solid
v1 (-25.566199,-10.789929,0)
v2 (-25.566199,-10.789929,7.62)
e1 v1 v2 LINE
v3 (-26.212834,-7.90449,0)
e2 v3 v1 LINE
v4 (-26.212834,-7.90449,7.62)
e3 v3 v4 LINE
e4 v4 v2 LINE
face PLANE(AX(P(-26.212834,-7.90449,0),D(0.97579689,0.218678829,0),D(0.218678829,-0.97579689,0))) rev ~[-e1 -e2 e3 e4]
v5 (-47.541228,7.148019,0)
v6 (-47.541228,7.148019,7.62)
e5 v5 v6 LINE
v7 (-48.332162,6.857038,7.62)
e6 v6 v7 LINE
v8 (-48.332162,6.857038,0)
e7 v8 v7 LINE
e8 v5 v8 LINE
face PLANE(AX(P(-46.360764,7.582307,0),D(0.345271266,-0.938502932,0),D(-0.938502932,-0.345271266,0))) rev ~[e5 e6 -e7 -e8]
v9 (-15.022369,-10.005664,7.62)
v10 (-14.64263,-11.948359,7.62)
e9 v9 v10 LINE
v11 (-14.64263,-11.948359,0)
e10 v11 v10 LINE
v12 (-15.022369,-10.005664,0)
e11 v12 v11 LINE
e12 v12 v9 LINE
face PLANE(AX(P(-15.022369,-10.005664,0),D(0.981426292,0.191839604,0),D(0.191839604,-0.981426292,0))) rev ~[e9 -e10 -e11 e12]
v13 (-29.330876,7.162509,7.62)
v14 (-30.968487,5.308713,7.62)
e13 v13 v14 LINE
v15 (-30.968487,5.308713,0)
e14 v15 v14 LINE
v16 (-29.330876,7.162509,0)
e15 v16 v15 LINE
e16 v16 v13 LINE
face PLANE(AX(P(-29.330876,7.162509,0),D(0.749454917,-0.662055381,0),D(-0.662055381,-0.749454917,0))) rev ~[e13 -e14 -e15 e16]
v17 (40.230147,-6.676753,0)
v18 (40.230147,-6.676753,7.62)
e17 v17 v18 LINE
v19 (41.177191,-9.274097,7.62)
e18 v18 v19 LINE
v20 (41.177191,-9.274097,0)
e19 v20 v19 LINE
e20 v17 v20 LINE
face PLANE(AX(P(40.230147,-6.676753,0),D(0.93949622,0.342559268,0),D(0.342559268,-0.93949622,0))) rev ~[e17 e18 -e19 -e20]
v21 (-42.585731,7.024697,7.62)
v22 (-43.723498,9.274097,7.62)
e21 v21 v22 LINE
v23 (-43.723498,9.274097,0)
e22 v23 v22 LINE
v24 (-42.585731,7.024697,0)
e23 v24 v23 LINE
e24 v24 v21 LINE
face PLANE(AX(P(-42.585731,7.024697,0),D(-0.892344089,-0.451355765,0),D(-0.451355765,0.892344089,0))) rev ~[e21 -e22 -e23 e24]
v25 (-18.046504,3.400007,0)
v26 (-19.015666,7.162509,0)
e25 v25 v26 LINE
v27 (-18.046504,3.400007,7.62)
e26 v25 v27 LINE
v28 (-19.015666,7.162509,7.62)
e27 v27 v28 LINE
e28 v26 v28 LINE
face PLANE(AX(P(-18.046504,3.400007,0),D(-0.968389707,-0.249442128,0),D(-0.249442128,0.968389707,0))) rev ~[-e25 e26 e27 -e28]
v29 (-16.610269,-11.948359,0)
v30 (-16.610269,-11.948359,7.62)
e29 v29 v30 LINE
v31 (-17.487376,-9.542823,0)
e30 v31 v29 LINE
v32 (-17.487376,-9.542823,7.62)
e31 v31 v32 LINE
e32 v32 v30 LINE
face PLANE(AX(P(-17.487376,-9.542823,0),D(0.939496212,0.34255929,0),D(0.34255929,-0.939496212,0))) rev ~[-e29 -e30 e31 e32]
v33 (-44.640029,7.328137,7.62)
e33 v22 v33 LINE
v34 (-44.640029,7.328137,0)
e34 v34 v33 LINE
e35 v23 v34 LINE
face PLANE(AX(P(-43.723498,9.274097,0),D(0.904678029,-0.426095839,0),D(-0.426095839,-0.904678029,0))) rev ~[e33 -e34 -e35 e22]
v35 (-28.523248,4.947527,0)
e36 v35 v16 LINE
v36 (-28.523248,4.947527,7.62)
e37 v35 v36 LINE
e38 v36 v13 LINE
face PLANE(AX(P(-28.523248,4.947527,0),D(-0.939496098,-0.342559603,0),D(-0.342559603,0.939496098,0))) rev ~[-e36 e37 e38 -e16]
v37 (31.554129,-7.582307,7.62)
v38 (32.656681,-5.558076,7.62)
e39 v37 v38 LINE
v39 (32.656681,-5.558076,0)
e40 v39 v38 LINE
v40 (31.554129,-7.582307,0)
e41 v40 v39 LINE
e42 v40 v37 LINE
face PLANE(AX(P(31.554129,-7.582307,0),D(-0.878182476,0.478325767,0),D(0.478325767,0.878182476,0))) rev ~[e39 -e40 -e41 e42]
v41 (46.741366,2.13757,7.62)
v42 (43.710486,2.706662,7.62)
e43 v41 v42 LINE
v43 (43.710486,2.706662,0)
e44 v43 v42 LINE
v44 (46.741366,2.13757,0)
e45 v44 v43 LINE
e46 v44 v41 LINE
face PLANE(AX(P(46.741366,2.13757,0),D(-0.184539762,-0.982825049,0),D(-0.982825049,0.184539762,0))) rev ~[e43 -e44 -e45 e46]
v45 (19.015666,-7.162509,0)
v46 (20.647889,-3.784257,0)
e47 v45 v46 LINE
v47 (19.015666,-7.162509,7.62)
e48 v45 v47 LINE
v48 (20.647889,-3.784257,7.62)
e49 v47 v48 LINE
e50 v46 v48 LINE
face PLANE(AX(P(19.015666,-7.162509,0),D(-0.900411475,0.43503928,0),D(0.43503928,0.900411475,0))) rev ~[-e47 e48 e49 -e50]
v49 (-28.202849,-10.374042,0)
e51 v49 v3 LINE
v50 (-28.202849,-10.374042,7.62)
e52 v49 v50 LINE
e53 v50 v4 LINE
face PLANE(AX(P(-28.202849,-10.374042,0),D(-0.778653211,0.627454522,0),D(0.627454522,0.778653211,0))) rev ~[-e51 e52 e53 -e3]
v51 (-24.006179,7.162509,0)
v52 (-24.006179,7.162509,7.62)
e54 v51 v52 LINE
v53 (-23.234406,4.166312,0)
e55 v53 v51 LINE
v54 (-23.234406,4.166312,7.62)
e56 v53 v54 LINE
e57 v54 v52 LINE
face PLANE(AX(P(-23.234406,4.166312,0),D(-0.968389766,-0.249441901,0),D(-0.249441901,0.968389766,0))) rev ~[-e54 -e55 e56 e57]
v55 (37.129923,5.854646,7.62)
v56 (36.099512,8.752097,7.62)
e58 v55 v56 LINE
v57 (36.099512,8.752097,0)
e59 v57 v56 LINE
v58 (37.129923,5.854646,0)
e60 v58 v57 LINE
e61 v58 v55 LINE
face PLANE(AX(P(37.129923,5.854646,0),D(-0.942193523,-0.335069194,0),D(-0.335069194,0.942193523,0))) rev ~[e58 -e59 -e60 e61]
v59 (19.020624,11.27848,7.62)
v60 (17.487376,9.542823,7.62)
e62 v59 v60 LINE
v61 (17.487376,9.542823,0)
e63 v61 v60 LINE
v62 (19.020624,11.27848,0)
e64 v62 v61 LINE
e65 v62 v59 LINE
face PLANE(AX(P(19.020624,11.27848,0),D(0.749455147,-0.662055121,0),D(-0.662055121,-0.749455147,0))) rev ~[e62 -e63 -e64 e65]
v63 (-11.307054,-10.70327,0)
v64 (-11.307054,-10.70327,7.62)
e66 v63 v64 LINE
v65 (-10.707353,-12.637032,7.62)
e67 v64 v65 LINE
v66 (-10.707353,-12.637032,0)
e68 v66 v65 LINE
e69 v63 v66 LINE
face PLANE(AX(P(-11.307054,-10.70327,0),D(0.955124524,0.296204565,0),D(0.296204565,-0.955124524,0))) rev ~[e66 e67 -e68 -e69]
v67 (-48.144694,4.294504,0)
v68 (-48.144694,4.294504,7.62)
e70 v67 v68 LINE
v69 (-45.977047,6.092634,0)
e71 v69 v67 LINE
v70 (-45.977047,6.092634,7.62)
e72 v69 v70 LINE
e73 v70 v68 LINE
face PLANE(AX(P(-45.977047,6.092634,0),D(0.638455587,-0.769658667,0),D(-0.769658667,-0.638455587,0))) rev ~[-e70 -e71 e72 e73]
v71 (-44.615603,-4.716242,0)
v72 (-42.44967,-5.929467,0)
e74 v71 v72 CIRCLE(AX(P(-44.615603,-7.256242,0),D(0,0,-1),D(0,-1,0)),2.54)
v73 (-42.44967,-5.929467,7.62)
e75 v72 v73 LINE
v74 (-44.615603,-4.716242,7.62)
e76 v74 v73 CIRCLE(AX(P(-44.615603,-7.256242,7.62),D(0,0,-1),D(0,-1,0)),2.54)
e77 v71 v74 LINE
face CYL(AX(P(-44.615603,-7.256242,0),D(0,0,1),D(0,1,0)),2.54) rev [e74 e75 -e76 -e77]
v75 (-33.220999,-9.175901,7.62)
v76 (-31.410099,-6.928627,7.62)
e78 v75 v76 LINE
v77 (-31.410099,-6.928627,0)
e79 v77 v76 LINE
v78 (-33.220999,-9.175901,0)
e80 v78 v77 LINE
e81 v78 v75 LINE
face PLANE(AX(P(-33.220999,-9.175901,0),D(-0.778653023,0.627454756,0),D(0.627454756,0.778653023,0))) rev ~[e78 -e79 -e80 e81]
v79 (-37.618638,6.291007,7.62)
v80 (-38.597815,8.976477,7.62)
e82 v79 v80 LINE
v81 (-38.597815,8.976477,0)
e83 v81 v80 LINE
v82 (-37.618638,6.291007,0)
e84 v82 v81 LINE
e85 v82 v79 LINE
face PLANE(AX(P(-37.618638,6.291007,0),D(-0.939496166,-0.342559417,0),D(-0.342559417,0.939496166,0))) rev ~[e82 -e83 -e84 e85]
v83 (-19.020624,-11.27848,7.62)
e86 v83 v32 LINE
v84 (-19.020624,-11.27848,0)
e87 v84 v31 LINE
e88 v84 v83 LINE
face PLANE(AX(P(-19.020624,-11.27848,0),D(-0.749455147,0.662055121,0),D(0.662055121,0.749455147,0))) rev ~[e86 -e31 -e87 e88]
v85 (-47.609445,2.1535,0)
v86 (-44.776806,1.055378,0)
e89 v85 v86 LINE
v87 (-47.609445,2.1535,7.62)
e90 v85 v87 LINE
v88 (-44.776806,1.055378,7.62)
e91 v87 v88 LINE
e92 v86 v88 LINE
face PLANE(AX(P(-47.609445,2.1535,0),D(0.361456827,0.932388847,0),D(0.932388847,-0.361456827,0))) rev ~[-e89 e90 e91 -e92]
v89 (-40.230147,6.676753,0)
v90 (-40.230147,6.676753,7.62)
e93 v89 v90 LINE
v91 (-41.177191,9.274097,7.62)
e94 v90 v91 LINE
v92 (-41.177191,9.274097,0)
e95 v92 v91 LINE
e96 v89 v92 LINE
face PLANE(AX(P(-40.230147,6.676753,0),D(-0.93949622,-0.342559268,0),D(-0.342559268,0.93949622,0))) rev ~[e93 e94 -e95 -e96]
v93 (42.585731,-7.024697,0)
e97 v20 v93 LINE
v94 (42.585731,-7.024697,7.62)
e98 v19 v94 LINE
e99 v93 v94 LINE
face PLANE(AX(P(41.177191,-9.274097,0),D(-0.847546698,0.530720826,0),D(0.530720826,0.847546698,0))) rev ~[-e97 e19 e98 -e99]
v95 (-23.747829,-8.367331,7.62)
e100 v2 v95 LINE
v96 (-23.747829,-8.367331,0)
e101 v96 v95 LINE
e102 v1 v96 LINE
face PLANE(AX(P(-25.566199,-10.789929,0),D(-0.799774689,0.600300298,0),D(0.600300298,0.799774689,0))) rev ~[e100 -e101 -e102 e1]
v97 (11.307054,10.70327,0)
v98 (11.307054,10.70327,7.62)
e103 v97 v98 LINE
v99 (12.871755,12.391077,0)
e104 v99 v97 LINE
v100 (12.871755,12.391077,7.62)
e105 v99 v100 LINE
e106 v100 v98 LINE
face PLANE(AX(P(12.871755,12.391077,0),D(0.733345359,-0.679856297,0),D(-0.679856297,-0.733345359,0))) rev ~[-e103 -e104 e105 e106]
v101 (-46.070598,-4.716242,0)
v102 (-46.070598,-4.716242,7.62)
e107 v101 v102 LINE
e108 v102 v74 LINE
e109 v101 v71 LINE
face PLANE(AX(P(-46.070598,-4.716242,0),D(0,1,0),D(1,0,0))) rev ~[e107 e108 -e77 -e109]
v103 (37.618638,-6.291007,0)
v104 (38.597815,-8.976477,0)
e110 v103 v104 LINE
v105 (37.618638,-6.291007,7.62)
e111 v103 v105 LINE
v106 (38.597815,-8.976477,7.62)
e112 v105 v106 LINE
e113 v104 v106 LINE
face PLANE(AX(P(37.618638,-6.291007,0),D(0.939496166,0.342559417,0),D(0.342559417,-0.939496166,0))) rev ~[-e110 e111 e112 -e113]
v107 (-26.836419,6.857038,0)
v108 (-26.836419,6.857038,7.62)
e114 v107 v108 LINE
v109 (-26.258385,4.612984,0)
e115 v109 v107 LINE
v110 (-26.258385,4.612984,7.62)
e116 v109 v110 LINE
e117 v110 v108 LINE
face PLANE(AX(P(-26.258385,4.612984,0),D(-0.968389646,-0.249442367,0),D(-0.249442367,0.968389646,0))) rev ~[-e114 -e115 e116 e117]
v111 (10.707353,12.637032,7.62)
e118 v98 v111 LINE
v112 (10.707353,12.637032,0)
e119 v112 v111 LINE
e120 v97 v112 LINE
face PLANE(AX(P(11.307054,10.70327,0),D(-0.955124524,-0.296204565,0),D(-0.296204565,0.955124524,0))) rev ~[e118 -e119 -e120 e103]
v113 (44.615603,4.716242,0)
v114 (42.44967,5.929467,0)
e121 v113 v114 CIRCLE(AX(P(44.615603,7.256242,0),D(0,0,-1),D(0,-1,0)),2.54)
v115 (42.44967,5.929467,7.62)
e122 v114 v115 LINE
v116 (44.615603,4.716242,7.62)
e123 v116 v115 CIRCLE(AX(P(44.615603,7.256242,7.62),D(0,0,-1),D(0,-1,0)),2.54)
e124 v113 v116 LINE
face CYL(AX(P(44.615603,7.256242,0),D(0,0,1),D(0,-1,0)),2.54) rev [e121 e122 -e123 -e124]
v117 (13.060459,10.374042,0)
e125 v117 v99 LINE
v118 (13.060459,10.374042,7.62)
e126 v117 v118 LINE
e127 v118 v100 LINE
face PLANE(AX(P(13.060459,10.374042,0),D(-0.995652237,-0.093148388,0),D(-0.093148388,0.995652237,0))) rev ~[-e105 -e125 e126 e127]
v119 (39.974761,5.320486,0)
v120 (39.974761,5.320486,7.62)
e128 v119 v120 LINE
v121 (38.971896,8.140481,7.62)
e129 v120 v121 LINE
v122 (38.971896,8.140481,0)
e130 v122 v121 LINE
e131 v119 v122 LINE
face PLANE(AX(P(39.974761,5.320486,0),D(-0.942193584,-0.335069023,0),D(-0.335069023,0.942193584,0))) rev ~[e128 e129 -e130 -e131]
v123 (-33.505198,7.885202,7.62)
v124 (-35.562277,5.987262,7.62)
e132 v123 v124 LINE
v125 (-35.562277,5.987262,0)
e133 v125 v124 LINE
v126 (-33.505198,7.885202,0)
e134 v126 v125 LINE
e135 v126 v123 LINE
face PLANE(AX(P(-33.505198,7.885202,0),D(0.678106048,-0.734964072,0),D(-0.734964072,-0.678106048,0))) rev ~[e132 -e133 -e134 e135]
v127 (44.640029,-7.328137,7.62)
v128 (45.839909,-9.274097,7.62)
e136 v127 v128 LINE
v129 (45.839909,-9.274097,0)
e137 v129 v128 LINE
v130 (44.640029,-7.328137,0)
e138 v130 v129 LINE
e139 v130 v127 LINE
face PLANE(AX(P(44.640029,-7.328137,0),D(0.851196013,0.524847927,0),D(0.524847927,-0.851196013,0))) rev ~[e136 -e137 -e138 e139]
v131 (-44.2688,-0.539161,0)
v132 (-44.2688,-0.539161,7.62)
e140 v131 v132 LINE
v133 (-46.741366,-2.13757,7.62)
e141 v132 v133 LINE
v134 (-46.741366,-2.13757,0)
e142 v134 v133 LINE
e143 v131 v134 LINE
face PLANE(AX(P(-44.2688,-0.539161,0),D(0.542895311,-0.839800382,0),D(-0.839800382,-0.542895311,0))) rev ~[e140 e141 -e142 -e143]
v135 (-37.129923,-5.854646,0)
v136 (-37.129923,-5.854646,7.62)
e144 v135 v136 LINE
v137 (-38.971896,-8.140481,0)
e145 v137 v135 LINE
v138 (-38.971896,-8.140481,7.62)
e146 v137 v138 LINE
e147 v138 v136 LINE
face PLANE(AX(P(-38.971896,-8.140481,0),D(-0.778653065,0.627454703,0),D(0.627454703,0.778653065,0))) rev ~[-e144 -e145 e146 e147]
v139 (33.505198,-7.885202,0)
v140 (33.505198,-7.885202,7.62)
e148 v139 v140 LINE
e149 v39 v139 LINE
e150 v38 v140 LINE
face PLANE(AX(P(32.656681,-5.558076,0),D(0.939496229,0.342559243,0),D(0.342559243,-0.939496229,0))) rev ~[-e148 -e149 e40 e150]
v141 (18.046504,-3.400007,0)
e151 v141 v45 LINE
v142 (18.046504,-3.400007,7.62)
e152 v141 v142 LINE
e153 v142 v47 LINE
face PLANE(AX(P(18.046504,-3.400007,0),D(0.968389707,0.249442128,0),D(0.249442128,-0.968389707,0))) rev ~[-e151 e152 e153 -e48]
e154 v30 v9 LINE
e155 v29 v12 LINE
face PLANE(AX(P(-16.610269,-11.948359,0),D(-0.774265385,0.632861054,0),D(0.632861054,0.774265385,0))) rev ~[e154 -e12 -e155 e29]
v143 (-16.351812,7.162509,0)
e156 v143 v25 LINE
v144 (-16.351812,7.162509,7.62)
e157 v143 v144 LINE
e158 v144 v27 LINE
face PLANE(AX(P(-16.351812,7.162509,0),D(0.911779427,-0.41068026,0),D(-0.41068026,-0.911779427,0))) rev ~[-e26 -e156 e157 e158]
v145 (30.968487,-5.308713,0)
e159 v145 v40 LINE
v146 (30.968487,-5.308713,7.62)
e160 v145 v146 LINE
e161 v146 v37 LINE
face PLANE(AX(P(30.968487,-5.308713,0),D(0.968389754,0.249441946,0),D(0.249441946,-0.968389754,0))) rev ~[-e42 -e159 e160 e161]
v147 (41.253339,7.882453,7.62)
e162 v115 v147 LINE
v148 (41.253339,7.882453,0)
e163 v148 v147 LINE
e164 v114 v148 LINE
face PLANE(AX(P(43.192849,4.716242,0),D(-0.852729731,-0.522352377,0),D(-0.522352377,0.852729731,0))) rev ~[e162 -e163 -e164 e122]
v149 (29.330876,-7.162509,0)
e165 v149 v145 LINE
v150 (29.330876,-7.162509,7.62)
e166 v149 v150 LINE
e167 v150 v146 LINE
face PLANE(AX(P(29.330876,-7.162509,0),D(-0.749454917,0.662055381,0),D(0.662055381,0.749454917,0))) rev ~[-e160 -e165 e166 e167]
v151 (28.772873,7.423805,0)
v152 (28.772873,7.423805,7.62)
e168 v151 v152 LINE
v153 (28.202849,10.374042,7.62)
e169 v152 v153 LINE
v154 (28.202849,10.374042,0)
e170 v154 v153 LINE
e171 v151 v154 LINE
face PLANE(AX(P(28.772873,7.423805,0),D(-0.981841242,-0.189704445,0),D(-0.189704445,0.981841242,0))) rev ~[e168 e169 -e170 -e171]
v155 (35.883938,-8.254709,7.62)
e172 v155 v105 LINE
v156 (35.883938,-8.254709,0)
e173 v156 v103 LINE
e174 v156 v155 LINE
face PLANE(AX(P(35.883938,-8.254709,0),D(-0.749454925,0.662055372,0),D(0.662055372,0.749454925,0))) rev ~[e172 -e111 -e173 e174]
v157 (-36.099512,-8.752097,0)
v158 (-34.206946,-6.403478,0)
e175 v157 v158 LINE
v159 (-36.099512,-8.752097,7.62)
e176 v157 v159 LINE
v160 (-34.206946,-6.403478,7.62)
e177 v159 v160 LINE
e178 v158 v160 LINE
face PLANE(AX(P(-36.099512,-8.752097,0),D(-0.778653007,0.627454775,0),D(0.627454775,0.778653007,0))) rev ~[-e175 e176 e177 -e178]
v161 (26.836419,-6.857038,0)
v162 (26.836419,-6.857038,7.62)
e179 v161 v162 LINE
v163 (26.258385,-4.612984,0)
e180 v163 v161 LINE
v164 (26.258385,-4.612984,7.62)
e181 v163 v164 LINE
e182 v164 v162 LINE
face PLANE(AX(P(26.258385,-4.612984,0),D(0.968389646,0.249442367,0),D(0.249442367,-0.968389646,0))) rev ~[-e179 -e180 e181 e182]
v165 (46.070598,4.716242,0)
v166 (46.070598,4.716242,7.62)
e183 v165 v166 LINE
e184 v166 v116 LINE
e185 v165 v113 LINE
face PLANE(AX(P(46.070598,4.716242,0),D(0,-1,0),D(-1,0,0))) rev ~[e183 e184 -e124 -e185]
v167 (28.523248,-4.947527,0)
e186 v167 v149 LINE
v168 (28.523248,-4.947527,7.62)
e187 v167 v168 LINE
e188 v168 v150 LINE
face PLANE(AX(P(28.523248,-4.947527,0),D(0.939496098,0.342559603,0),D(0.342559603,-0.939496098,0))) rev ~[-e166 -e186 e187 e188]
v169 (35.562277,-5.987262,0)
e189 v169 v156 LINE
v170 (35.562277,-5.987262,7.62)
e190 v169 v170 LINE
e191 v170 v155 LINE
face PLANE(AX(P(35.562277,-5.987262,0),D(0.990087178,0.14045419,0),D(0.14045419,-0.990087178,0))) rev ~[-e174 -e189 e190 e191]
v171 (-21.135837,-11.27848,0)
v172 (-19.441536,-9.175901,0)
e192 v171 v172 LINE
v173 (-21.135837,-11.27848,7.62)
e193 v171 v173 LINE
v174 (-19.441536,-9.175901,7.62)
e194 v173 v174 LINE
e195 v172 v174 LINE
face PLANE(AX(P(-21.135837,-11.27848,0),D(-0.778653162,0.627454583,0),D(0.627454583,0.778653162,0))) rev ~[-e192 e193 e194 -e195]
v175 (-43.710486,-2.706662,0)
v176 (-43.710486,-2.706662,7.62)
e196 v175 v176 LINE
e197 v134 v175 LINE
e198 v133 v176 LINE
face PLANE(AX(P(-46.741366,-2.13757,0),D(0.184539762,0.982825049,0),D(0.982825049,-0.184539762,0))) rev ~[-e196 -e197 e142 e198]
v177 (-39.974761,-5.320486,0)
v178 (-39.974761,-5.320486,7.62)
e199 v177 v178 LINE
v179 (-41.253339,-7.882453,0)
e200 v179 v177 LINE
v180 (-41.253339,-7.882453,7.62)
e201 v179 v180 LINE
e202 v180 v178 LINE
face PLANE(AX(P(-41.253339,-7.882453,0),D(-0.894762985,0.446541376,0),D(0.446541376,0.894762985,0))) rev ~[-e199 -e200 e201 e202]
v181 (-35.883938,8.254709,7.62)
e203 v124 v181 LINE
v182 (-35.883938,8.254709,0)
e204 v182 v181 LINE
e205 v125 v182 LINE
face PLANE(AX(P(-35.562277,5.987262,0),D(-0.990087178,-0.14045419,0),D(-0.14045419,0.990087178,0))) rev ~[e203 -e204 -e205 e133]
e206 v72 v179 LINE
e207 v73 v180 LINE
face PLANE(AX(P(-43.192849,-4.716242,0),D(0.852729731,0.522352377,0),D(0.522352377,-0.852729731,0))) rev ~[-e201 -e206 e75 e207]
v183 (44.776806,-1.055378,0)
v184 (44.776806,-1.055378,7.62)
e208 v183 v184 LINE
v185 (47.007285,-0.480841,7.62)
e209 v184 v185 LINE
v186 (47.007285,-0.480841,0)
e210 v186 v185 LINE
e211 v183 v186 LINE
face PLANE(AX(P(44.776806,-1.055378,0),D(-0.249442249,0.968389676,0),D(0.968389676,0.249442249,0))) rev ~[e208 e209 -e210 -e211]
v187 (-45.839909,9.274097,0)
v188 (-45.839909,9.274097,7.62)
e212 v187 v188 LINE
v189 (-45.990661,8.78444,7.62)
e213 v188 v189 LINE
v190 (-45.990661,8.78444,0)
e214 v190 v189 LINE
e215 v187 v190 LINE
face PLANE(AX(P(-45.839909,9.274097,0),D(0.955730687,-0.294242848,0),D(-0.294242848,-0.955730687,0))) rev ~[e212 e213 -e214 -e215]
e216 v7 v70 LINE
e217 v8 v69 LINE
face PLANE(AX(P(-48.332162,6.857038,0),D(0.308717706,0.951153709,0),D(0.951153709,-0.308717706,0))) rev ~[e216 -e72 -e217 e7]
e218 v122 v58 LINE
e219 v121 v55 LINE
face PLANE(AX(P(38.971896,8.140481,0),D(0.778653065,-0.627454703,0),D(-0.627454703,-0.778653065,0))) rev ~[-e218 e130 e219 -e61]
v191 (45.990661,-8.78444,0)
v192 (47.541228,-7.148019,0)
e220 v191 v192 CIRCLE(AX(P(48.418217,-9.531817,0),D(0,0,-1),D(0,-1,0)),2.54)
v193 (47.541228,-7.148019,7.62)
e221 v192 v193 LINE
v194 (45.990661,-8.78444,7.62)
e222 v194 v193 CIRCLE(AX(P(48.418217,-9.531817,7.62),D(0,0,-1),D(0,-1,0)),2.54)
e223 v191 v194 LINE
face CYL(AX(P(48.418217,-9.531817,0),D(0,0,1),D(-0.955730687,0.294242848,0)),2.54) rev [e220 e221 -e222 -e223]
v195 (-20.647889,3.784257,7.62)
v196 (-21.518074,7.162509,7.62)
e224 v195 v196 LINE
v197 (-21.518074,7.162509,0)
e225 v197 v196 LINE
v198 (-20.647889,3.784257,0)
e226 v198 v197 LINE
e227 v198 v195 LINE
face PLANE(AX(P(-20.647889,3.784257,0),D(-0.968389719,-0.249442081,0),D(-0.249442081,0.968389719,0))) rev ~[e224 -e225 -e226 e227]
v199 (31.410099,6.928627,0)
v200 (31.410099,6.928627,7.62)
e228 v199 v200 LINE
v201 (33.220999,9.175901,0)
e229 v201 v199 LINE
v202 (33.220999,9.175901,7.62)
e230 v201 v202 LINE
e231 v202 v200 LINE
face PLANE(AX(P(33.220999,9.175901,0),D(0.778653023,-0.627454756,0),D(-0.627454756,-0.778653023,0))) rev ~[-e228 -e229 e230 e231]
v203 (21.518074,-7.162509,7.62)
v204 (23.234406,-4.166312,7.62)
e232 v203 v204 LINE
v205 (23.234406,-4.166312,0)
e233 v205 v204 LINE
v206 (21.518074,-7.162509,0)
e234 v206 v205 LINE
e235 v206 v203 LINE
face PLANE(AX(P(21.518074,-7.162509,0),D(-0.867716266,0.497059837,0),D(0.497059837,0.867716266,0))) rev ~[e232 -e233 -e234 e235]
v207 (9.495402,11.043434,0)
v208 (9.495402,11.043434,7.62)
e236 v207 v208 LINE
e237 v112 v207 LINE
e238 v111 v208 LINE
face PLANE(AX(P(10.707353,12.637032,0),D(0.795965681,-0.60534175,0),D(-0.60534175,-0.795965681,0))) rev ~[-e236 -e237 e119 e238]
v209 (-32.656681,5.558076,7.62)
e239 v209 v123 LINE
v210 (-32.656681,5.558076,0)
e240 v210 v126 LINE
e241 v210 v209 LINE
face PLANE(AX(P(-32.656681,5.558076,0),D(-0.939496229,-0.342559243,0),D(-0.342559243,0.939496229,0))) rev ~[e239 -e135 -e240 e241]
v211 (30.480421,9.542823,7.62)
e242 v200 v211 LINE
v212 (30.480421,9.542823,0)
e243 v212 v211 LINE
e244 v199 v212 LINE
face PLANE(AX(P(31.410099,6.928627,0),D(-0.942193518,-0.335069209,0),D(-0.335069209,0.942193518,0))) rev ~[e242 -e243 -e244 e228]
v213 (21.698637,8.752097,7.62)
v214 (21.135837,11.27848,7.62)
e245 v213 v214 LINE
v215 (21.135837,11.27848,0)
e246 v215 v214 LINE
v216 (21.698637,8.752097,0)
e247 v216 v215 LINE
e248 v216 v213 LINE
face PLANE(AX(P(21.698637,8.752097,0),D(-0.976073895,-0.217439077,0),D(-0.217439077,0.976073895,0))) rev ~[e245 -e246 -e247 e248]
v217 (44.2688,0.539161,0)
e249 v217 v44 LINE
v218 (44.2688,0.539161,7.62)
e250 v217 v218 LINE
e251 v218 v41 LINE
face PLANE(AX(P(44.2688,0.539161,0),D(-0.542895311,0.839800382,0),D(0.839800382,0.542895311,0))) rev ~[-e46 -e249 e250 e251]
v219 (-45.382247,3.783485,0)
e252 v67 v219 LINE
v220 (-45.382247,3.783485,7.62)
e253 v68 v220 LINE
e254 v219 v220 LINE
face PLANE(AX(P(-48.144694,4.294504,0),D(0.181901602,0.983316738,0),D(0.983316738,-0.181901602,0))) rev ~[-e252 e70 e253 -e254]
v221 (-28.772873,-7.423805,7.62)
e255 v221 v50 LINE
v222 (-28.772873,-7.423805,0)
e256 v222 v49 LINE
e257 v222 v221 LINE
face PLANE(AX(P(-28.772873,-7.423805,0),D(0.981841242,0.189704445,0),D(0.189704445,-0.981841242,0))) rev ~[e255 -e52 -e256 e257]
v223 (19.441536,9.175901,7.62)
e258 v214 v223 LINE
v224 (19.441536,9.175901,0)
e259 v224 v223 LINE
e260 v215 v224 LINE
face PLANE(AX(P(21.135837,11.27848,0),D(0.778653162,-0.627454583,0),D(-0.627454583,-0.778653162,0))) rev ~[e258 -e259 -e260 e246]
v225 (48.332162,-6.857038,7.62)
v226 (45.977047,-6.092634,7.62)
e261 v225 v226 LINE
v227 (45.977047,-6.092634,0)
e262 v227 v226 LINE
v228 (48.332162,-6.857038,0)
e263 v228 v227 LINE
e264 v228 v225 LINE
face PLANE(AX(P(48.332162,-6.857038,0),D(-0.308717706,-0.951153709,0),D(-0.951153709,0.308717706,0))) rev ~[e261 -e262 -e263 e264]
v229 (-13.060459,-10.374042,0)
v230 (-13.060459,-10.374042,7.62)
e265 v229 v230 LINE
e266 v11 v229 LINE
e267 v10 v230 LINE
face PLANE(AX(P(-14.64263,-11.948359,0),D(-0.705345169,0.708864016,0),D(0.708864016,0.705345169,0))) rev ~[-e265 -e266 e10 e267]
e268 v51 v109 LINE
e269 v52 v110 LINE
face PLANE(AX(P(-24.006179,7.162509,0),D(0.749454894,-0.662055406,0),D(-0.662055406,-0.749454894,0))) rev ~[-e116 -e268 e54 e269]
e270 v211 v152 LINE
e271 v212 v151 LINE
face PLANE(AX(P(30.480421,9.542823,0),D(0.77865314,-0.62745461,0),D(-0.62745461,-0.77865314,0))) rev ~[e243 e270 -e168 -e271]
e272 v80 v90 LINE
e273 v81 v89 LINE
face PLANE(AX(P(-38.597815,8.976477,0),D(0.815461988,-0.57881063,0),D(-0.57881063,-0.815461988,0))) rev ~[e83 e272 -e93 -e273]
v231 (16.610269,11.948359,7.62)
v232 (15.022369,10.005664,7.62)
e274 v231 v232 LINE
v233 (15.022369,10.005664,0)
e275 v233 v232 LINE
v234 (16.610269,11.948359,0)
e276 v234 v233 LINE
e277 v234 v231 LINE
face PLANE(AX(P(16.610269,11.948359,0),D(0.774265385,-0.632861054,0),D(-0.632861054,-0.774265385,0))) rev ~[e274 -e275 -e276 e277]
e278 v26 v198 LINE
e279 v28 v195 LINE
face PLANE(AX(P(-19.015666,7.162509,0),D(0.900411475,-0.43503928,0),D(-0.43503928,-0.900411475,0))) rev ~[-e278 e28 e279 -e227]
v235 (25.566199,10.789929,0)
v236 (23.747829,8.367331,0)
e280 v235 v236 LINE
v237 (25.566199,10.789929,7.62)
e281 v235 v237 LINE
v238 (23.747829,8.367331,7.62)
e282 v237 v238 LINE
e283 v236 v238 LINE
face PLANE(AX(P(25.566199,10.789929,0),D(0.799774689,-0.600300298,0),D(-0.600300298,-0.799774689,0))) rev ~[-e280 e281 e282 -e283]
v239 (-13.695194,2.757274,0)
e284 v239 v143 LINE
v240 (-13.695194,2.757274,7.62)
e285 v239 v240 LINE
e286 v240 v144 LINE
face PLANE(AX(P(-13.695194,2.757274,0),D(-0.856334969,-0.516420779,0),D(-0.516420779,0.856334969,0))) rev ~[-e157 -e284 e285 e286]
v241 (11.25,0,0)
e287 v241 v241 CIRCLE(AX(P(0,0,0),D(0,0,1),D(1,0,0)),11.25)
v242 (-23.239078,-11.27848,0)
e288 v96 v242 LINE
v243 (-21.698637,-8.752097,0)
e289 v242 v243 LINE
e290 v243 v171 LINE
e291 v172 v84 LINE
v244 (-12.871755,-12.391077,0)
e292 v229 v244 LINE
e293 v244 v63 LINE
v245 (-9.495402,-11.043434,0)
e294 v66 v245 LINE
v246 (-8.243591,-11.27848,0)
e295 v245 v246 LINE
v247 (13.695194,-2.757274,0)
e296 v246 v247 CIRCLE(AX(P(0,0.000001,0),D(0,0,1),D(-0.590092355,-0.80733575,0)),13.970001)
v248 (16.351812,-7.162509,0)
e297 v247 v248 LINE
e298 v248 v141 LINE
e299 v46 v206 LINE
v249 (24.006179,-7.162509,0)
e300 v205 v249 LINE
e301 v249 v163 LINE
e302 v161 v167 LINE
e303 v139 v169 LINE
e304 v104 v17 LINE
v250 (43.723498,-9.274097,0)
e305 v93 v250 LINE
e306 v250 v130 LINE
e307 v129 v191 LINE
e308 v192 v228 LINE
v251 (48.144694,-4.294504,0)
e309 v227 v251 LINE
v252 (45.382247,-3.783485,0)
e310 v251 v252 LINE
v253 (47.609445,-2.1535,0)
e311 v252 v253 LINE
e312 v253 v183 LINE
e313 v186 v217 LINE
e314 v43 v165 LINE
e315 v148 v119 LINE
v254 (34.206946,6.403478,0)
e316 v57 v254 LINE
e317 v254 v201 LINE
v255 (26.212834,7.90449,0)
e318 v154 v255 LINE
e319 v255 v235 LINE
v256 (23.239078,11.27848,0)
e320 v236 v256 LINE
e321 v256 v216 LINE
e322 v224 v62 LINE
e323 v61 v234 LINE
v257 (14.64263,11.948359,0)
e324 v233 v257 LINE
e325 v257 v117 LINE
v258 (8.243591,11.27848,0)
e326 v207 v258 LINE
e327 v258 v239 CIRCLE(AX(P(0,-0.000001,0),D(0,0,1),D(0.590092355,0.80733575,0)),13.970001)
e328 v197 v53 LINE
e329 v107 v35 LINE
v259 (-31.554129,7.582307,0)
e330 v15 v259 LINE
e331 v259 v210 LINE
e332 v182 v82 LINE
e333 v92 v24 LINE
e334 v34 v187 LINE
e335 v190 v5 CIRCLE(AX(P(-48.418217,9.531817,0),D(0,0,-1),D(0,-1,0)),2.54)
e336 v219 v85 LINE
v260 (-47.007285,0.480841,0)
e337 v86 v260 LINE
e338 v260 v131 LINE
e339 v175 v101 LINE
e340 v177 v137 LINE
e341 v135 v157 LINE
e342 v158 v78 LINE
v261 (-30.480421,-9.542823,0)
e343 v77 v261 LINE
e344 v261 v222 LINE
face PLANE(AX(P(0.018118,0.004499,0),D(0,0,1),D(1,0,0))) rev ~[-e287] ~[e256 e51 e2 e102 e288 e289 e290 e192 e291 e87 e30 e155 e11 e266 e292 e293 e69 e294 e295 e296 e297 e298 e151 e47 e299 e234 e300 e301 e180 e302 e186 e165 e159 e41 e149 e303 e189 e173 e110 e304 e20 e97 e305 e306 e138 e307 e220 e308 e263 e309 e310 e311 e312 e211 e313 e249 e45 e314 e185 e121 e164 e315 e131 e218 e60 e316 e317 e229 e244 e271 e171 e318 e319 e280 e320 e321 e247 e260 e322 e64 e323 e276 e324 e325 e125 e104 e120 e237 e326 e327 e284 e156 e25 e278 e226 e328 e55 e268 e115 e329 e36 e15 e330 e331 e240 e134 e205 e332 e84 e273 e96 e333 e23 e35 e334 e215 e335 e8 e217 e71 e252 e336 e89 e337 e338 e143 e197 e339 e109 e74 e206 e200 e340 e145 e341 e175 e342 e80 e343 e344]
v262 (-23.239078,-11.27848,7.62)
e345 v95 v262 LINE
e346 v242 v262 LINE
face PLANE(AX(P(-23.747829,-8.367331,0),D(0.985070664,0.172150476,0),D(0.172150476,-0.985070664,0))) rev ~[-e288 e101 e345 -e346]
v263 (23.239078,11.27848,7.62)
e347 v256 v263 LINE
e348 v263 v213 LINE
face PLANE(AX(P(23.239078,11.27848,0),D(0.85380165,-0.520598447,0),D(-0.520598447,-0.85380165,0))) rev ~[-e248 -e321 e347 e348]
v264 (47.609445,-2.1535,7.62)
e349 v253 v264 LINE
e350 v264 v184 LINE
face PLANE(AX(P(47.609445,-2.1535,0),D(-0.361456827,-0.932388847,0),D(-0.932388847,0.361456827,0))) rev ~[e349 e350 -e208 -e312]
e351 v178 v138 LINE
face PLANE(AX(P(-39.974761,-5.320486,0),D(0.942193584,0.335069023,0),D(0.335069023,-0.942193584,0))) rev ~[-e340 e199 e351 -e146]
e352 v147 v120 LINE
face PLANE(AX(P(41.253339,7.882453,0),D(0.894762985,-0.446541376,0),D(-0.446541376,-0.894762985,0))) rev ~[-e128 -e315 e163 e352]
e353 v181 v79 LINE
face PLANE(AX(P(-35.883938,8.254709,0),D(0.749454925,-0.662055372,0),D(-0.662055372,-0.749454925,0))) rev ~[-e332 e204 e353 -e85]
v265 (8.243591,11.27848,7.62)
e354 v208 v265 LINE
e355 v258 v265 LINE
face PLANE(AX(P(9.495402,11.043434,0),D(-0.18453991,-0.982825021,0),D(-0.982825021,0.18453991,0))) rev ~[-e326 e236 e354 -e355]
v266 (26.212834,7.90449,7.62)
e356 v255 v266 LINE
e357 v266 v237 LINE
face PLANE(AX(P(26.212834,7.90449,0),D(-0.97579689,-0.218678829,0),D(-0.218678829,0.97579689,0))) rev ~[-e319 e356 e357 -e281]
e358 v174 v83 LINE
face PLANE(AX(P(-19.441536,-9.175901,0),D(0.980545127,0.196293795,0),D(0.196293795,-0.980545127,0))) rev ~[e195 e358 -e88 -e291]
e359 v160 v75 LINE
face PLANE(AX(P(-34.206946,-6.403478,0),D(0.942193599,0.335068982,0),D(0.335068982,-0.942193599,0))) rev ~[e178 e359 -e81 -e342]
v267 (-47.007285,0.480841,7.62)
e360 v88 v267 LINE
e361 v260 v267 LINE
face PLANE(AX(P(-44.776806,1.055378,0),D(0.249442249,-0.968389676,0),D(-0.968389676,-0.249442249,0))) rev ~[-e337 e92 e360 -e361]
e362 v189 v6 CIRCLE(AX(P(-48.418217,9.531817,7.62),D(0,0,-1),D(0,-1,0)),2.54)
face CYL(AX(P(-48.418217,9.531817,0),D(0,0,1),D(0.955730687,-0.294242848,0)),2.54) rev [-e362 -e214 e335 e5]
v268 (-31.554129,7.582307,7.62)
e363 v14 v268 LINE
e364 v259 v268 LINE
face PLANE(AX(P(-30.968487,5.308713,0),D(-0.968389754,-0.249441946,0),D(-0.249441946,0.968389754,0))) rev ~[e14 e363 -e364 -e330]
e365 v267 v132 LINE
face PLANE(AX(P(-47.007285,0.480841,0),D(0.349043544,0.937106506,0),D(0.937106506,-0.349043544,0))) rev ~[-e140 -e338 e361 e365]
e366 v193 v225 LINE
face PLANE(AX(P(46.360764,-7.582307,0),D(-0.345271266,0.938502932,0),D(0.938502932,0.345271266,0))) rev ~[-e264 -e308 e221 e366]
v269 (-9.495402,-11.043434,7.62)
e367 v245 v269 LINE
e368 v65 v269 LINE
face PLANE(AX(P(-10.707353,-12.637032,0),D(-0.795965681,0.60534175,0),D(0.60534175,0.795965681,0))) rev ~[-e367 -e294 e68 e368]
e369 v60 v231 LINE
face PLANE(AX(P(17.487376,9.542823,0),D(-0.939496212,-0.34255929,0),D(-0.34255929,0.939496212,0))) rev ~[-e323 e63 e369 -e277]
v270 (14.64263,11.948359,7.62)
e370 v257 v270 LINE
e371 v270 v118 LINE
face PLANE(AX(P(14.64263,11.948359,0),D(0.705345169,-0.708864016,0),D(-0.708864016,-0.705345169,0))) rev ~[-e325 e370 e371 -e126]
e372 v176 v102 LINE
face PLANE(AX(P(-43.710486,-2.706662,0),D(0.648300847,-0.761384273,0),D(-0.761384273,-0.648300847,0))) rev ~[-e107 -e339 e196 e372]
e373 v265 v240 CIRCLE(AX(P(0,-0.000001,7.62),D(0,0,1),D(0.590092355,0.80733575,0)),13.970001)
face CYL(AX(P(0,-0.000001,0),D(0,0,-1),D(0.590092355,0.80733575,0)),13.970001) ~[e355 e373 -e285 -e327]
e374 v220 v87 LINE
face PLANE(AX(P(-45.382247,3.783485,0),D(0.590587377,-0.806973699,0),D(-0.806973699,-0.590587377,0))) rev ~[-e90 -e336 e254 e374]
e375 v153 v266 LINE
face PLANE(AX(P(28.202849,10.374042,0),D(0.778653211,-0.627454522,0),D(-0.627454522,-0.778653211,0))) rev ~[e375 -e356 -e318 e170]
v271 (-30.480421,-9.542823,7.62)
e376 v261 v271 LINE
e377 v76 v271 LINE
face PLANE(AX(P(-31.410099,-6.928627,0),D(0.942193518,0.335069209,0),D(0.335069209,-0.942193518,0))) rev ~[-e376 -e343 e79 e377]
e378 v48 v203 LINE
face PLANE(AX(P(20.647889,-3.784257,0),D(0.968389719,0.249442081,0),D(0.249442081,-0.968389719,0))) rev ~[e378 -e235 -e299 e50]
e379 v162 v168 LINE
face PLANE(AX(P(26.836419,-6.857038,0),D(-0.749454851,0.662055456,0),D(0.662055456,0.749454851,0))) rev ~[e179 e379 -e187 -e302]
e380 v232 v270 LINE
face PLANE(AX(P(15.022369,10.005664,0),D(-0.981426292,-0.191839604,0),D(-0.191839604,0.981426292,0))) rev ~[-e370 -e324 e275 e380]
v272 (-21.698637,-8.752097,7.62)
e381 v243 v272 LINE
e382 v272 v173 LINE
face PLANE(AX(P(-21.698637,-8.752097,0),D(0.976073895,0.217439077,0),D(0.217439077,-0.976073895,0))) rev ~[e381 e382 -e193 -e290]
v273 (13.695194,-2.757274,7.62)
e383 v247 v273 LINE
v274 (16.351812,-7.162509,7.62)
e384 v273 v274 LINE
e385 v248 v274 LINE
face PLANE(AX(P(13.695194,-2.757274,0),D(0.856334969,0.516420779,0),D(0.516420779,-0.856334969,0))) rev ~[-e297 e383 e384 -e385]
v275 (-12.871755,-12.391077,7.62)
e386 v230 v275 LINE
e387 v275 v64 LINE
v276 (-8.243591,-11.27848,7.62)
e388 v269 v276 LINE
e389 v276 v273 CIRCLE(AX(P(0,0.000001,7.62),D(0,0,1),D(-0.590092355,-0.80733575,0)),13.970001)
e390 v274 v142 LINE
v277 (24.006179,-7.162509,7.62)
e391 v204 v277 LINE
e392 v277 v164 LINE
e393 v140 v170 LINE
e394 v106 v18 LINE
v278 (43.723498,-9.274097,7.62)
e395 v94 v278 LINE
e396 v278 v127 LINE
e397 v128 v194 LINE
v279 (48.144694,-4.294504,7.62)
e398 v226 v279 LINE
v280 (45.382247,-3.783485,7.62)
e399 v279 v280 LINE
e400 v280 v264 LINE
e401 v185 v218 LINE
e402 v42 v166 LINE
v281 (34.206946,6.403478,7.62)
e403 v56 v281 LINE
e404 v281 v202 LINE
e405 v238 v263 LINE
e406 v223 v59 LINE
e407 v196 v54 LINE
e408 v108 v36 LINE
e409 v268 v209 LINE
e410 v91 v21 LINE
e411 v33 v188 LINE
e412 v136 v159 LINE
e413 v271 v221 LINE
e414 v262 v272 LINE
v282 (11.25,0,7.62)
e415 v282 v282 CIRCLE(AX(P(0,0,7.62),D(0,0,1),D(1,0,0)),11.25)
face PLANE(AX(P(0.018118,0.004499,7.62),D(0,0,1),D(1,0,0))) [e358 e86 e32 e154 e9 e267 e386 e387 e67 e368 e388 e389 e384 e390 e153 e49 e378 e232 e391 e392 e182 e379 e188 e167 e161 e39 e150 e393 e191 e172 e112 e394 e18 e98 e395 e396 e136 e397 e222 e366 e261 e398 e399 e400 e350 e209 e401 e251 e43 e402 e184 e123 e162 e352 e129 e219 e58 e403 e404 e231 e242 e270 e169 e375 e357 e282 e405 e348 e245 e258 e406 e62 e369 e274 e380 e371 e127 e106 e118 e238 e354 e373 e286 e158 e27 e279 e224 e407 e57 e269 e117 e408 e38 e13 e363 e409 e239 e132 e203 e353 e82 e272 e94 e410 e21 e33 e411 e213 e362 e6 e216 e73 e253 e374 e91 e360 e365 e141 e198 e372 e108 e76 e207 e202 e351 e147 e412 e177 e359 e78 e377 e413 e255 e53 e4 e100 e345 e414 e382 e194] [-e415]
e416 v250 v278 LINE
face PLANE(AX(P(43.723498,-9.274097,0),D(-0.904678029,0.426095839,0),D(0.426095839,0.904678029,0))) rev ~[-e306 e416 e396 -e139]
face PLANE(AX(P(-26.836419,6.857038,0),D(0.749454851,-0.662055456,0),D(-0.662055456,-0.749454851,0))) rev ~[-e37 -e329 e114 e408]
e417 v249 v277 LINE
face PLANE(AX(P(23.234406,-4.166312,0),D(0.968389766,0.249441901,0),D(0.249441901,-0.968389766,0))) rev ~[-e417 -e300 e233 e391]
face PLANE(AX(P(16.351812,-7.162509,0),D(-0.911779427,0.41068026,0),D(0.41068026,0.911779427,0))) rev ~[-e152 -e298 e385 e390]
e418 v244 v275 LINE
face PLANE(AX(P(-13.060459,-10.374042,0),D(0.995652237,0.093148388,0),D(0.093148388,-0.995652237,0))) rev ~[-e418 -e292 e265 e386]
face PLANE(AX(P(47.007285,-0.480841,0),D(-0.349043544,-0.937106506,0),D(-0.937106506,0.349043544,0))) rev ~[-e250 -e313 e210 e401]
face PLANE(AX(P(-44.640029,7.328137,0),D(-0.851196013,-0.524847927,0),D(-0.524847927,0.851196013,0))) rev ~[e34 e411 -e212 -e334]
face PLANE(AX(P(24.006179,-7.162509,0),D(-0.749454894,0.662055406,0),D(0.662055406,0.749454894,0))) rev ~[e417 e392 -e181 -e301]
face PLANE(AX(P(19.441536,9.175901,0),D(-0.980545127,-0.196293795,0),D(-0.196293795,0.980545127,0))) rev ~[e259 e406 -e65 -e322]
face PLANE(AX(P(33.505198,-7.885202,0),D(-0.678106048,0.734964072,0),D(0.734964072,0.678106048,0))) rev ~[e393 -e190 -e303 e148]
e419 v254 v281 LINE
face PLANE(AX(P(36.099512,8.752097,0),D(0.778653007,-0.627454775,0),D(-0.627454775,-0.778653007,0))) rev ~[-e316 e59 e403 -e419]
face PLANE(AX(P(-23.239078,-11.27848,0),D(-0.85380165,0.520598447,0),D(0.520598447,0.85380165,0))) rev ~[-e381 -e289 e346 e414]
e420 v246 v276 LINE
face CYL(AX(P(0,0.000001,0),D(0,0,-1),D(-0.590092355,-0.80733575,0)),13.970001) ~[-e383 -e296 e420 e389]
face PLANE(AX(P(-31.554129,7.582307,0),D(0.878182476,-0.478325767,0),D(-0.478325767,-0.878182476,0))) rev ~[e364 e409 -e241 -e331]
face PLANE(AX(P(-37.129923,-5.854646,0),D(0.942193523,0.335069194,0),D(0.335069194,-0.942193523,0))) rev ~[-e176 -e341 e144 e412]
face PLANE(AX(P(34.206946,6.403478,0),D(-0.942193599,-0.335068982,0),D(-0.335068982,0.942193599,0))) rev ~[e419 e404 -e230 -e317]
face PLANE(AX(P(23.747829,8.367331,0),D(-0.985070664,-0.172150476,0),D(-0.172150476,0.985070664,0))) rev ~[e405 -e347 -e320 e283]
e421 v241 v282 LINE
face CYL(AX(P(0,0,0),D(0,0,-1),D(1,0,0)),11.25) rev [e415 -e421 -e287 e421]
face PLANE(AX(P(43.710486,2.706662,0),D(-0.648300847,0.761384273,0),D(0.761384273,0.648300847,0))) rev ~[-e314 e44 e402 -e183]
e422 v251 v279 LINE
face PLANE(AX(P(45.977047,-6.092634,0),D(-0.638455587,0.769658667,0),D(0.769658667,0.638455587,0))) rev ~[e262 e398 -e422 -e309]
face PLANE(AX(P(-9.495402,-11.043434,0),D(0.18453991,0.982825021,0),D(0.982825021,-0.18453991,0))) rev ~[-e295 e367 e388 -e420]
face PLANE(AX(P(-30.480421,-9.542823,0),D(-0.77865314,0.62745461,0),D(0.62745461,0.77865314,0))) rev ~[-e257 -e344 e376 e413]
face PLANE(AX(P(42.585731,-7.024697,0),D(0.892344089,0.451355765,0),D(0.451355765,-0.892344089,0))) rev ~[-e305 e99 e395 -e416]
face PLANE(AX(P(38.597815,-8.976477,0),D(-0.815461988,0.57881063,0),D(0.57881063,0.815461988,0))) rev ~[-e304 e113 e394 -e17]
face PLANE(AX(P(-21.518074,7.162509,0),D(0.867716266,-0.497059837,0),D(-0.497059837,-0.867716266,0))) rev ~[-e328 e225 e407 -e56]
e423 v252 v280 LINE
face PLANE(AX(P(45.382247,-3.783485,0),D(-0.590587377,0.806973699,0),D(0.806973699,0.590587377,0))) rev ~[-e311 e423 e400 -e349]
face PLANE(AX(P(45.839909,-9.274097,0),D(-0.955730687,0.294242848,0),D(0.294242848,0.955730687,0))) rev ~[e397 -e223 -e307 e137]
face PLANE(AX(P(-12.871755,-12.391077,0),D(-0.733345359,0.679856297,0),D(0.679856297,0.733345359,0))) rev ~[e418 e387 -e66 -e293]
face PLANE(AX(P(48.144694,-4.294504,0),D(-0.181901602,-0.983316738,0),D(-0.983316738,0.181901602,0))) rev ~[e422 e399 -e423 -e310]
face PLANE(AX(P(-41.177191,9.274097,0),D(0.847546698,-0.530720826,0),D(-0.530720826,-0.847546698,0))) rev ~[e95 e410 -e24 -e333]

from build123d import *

# Parameters (mm, degrees)
F0_R     = 11.25
F1_DEPTH = 7.62
F2_R     = 2.54


with BuildPart() as f1:
    # F0 (on Top) → F1 (new body)
    with BuildSketch(Plane.XY):
        with BuildLine():
            ThreePointArc((13.695194, -2.757274), (13.901129, -1.385467), (13.97, 0))
            ThreePointArc((13.97, 0), (12.456401, 6.324474), (8.243591, 11.27848))
            ThreePointArc((8.243591, 11.27848), (-5.057937, 13.022218), (-13.695194, 2.757274))
            ThreePointArc((-13.695194, 2.757274), (-13.022218, -5.057937), (-8.243591, -11.27848))
            ThreePointArc((-8.243591, -11.27848), (5.057937, -13.022218), (13.695194, -2.757274))
        make_face()
        Circle(F0_R, mode=Mode.SUBTRACT)
        with BuildLine():
            ThreePointArc((8.243591, 11.27848), (12.456401, 6.324474), (13.97, 0))
            ThreePointArc((13.97, 0), (13.901129, -1.385467), (13.695194, -2.757274))
            Line((13.695194, -2.757274), (18.046504, -3.400007))
            Line((18.046504, -3.400007), (20.647889, -3.784257))
            Line((20.647889, -3.784257), (23.234406, -4.166312))
            Line((23.234406, -4.166312), (26.258385, -4.612984))
            Line((26.258385, -4.612984), (28.523248, -4.947527))
            Line((28.523248, -4.947527), (30.968487, -5.308713))
            Line((30.968487, -5.308713), (32.656681, -5.558076))
            Line((32.656681, -5.558076), (35.562277, -5.987262))
            Line((35.562277, -5.987262), (37.618638, -6.291007))
            Line((37.618638, -6.291007), (40.230147, -6.676753))
            Line((40.230147, -6.676753), (42.585731, -7.024697))
            Line((42.585731, -7.024697), (44.640029, -7.328137))
            Line((44.640029, -7.328137), (46.360764, -7.582307))
            Line((46.360764, -7.582307), (45.977047, -6.092634))
            Line((45.977047, -6.092634), (45.382247, -3.783485))
            Line((45.382247, -3.783485), (44.2688, 0.539161))
            Line((44.2688, 0.539161), (43.710486, 2.706662))
            Line((43.710486, 2.706662), (43.192849, 4.716242))
            Line((43.192849, 4.716242), (39.974761, 5.320486))
            Line((39.974761, 5.320486), (37.129923, 5.854646))
            Line((37.129923, 5.854646), (34.206946, 6.403478))
            Line((34.206946, 6.403478), (31.410099, 6.928627))
            Line((31.410099, 6.928627), (28.772873, 7.423805))
            Line((28.772873, 7.423805), (26.212834, 7.90449))
            Line((26.212834, 7.90449), (23.747829, 8.367331))
            Line((23.747829, 8.367331), (21.698637, 8.752097))
            Line((21.698637, 8.752097), (19.441536, 9.175901))
            Line((19.441536, 9.175901), (17.487376, 9.542823))
            Line((17.487376, 9.542823), (15.022369, 10.005664))
            Line((15.022369, 10.005664), (13.060459, 10.374042))
            Line((13.060459, 10.374042), (11.307054, 10.70327))
            Line((11.307054, 10.70327), (9.495402, 11.043434))
            Line((9.495402, 11.043434), (8.243591, 11.27848))
        make_face()
        with BuildLine():
            ThreePointArc((-8.243591, -11.27848), (-13.022218, -5.057937), (-13.695194, 2.757274))
            Line((-13.695194, 2.757274), (-18.046504, 3.400007))
            Line((-18.046504, 3.400007), (-20.647889, 3.784257))
            Line((-20.647889, 3.784257), (-23.234406, 4.166312))
            Line((-23.234406, 4.166312), (-26.258385, 4.612984))
            Line((-26.258385, 4.612984), (-28.523248, 4.947527))
            Line((-28.523248, 4.947527), (-30.968487, 5.308713))
            Line((-30.968487, 5.308713), (-32.656681, 5.558076))
            Line((-32.656681, 5.558076), (-35.562277, 5.987262))
            Line((-35.562277, 5.987262), (-37.618638, 6.291007))
            Line((-37.618638, 6.291007), (-40.230147, 6.676753))
            Line((-40.230147, 6.676753), (-42.585731, 7.024697))
            Line((-42.585731, 7.024697), (-44.640029, 7.328137))
            Line((-44.640029, 7.328137), (-46.360764, 7.582307))
            Line((-46.360764, 7.582307), (-45.977047, 6.092634))
            Line((-45.977047, 6.092634), (-45.382247, 3.783485))
            Line((-45.382247, 3.783485), (-44.2688, -0.539161))
            Line((-44.2688, -0.539161), (-43.710486, -2.706662))
            Line((-43.710486, -2.706662), (-43.192849, -4.716242))
            Line((-43.192849, -4.716242), (-39.974761, -5.320486))
            Line((-39.974761, -5.320486), (-37.129923, -5.854646))
            Line((-37.129923, -5.854646), (-34.206946, -6.403478))
            Line((-34.206946, -6.403478), (-31.410099, -6.928627))
            Line((-31.410099, -6.928627), (-28.772873, -7.423805))
            Line((-28.772873, -7.423805), (-26.212834, -7.90449))
            Line((-26.212834, -7.90449), (-23.747829, -8.367331))
            Line((-23.747829, -8.367331), (-21.698637, -8.752097))
            Line((-21.698637, -8.752097), (-19.441536, -9.175901))
            Line((-19.441536, -9.175901), (-17.487376, -9.542823))
            Line((-17.487376, -9.542823), (-15.022369, -10.005664))
            Line((-15.022369, -10.005664), (-13.060459, -10.374042))
            Line((-13.060459, -10.374042), (-11.307054, -10.70327))
            Line((-11.307054, -10.70327), (-9.495402, -11.043434))
            Line((-9.495402, -11.043434), (-8.243591, -11.27848))
        make_face()
        Polygon((10.707353, 12.637032), (9.495402, 11.043434), (11.307054, 10.70327), align=None)
        Polygon((12.871755, 12.391077), (11.307054, 10.70327), (13.060459, 10.374042), align=None)
        Polygon((14.64263, 11.948359), (13.060459, 10.374042), (15.022369, 10.005664), align=None)
        Polygon((16.610269, 11.948359), (15.022369, 10.005664), (17.487376, 9.542823), align=None)
        Polygon((19.020624, 11.27848), (17.487376, 9.542823), (19.441536, 9.175901), align=None)
        Polygon((21.135837, 11.27848), (19.441536, 9.175901), (21.698637, 8.752097), align=None)
        Polygon((23.239078, 11.27848), (21.698637, 8.752097), (23.747829, 8.367331), align=None)
        Polygon((25.566199, 10.789929), (23.747829, 8.367331), (26.212834, 7.90449), align=None)
        Polygon((28.202849, 10.374042), (26.212834, 7.90449), (28.772873, 7.423805), align=None)
        Polygon((30.480421, 9.542823), (28.772873, 7.423805), (31.410099, 6.928627), align=None)
        Polygon((33.220999, 9.175901), (31.410099, 6.928627), (34.206946, 6.403478), align=None)
        Polygon((36.099512, 8.752097), (34.206946, 6.403478), (37.129923, 5.854646), align=None)
        Polygon((38.971896, 8.140481), (37.129923, 5.854646), (39.974761, 5.320486), align=None)
        Polygon((41.253339, 7.882453), (39.974761, 5.320486), (43.192849, 4.716242), align=None)
        Polygon((46.070598, 4.716242), (43.192849, 4.716242), (43.710486, 2.706662), align=None)
        Polygon((46.741366, 2.13757), (43.710486, 2.706662), (44.2688, 0.539161), align=None)
        Polygon((44.2688, 0.539161), (45.382247, -3.783485), (47.609445, -2.1535), (44.776806, -1.055378), (47.007285, -0.480841), align=None)
        Polygon((45.382247, -3.783485), (45.977047, -6.092634), (48.144694, -4.294504), align=None)
        Polygon((45.977047, -6.092634), (46.360764, -7.582307), (48.332162, -6.857038), align=None)
        Polygon((46.360764, -7.582307), (44.640029, -7.328137), (45.839909, -9.274097), align=None)
        Polygon((44.640029, -7.328137), (42.585731, -7.024697), (43.723498, -9.274097), align=None)
        Polygon((42.585731, -7.024697), (40.230147, -6.676753), (41.177191, -9.274097), align=None)
        Polygon((40.230147, -6.676753), (37.618638, -6.291007), (38.597815, -8.976477), align=None)
        Polygon((37.618638, -6.291007), (35.562277, -5.987262), (35.883938, -8.254709), align=None)
        Polygon((35.562277, -5.987262), (32.656681, -5.558076), (33.505198, -7.885202), align=None)
        Polygon((32.656681, -5.558076), (30.968487, -5.308713), (31.554129, -7.582307), align=None)
        Polygon((30.968487, -5.308713), (28.523248, -4.947527), (29.330876, -7.162509), align=None)
        Polygon((28.523248, -4.947527), (26.258385, -4.612984), (26.836419, -6.857038), align=None)
        Polygon((26.258385, -4.612984), (23.234406, -4.166312), (24.006179, -7.162509), align=None)
        Polygon((23.234406, -4.166312), (20.647889, -3.784257), (21.518074, -7.162509), align=None)
        Polygon((20.647889, -3.784257), (18.046504, -3.400007), (19.015666, -7.162509), align=None)
        Polygon((18.046504, -3.400007), (13.695194, -2.757274), (16.351812, -7.162509), align=None)
        Polygon((-10.707353, -12.637032), (-9.495402, -11.043434), (-11.307054, -10.70327), align=None)
        Polygon((-12.871755, -12.391077), (-11.307054, -10.70327), (-13.060459, -10.374042), align=None)
        Polygon((-14.64263, -11.948359), (-13.060459, -10.374042), (-15.022369, -10.005664), align=None)
        Polygon((-16.610269, -11.948359), (-15.022369, -10.005664), (-17.487376, -9.542823), align=None)
        Polygon((-19.020624, -11.27848), (-17.487376, -9.542823), (-19.441536, -9.175901), align=None)
        Polygon((-21.135837, -11.27848), (-19.441536, -9.175901), (-21.698637, -8.752097), align=None)
        Polygon((-23.239078, -11.27848), (-21.698637, -8.752097), (-23.747829, -8.367331), align=None)
        Polygon((-25.566199, -10.789929), (-23.747829, -8.367331), (-26.212834, -7.90449), align=None)
        Polygon((-28.202849, -10.374042), (-26.212834, -7.90449), (-28.772873, -7.423805), align=None)
        Polygon((-33.220999, -9.175901), (-31.410099, -6.928627), (-34.206946, -6.403478), align=None)
        Polygon((-38.971896, -8.140481), (-37.129923, -5.854646), (-39.974761, -5.320486), align=None)
        Polygon((-41.253339, -7.882453), (-39.974761, -5.320486), (-43.192849, -4.716242), align=None)
        Polygon((-30.480421, -9.542823), (-28.772873, -7.423805), (-31.410099, -6.928627), align=None)
        Polygon((-36.099512, -8.752097), (-34.206946, -6.403478), (-37.129923, -5.854646), align=None)
        Polygon((-46.070598, -4.716242), (-43.192849, -4.716242), (-43.710486, -2.706662), align=None)
        Polygon((-43.710486, -2.706662), (-44.2688, -0.539161), (-46.741366, -2.13757), align=None)
        Polygon((-45.382247, 3.783485), (-45.977047, 6.092634), (-48.144694, 4.294504), align=None)
        Polygon((-45.977047, 6.092634), (-46.360764, 7.582307), (-48.332162, 6.857038), align=None)
        Polygon((-46.360764, 7.582307), (-44.640029, 7.328137), (-45.839909, 9.274097), align=None)
        Polygon((-44.640029, 7.328137), (-42.585731, 7.024697), (-43.723498, 9.274097), align=None)
        Polygon((-42.585731, 7.024697), (-40.230147, 6.676753), (-41.177191, 9.274097), align=None)
        Polygon((-40.230147, 6.676753), (-37.618638, 6.291007), (-38.597815, 8.976477), align=None)
        Polygon((-37.618638, 6.291007), (-35.562277, 5.987262), (-35.883938, 8.254709), align=None)
        Polygon((-32.656681, 5.558076), (-30.968487, 5.308713), (-31.554129, 7.582307), align=None)
        Polygon((-30.968487, 5.308713), (-28.523248, 4.947527), (-29.330876, 7.162509), align=None)
        Polygon((-28.523248, 4.947527), (-26.258385, 4.612984), (-26.836419, 6.857038), align=None)
        Polygon((-44.2688, -0.539161), (-45.382247, 3.783485), (-47.609445, 2.1535), (-44.776806, 1.055378), (-47.007285, 0.480841), align=None)
        Polygon((-35.562277, 5.987262), (-32.656681, 5.558076), (-33.505198, 7.885202), align=None)
        Polygon((-26.258385, 4.612984), (-23.234406, 4.166312), (-24.006179, 7.162509), align=None)
        Polygon((-23.234406, 4.166312), (-20.647889, 3.784257), (-21.518074, 7.162509), align=None)
        Polygon((-20.647889, 3.784257), (-18.046504, 3.400007), (-19.015666, 7.162509), align=None)
        Polygon((-18.046504, 3.400007), (-13.695194, 2.757274), (-16.351812, 7.162509), align=None)
    extrude(amount=F1_DEPTH)

    # F2
    f2_edges = [f1.edges().sort_by_distance(p)[0] for p in [
        (-46.360764, 7.582307, 3.81),
        (-43.192849, -4.716242, 3.81),
        (46.360764, -7.582307, 3.81),
        (43.192849, 4.716242, 3.81),
    ]]
    fillet(f2_edges, radius=F2_R)


solid = f1.part
